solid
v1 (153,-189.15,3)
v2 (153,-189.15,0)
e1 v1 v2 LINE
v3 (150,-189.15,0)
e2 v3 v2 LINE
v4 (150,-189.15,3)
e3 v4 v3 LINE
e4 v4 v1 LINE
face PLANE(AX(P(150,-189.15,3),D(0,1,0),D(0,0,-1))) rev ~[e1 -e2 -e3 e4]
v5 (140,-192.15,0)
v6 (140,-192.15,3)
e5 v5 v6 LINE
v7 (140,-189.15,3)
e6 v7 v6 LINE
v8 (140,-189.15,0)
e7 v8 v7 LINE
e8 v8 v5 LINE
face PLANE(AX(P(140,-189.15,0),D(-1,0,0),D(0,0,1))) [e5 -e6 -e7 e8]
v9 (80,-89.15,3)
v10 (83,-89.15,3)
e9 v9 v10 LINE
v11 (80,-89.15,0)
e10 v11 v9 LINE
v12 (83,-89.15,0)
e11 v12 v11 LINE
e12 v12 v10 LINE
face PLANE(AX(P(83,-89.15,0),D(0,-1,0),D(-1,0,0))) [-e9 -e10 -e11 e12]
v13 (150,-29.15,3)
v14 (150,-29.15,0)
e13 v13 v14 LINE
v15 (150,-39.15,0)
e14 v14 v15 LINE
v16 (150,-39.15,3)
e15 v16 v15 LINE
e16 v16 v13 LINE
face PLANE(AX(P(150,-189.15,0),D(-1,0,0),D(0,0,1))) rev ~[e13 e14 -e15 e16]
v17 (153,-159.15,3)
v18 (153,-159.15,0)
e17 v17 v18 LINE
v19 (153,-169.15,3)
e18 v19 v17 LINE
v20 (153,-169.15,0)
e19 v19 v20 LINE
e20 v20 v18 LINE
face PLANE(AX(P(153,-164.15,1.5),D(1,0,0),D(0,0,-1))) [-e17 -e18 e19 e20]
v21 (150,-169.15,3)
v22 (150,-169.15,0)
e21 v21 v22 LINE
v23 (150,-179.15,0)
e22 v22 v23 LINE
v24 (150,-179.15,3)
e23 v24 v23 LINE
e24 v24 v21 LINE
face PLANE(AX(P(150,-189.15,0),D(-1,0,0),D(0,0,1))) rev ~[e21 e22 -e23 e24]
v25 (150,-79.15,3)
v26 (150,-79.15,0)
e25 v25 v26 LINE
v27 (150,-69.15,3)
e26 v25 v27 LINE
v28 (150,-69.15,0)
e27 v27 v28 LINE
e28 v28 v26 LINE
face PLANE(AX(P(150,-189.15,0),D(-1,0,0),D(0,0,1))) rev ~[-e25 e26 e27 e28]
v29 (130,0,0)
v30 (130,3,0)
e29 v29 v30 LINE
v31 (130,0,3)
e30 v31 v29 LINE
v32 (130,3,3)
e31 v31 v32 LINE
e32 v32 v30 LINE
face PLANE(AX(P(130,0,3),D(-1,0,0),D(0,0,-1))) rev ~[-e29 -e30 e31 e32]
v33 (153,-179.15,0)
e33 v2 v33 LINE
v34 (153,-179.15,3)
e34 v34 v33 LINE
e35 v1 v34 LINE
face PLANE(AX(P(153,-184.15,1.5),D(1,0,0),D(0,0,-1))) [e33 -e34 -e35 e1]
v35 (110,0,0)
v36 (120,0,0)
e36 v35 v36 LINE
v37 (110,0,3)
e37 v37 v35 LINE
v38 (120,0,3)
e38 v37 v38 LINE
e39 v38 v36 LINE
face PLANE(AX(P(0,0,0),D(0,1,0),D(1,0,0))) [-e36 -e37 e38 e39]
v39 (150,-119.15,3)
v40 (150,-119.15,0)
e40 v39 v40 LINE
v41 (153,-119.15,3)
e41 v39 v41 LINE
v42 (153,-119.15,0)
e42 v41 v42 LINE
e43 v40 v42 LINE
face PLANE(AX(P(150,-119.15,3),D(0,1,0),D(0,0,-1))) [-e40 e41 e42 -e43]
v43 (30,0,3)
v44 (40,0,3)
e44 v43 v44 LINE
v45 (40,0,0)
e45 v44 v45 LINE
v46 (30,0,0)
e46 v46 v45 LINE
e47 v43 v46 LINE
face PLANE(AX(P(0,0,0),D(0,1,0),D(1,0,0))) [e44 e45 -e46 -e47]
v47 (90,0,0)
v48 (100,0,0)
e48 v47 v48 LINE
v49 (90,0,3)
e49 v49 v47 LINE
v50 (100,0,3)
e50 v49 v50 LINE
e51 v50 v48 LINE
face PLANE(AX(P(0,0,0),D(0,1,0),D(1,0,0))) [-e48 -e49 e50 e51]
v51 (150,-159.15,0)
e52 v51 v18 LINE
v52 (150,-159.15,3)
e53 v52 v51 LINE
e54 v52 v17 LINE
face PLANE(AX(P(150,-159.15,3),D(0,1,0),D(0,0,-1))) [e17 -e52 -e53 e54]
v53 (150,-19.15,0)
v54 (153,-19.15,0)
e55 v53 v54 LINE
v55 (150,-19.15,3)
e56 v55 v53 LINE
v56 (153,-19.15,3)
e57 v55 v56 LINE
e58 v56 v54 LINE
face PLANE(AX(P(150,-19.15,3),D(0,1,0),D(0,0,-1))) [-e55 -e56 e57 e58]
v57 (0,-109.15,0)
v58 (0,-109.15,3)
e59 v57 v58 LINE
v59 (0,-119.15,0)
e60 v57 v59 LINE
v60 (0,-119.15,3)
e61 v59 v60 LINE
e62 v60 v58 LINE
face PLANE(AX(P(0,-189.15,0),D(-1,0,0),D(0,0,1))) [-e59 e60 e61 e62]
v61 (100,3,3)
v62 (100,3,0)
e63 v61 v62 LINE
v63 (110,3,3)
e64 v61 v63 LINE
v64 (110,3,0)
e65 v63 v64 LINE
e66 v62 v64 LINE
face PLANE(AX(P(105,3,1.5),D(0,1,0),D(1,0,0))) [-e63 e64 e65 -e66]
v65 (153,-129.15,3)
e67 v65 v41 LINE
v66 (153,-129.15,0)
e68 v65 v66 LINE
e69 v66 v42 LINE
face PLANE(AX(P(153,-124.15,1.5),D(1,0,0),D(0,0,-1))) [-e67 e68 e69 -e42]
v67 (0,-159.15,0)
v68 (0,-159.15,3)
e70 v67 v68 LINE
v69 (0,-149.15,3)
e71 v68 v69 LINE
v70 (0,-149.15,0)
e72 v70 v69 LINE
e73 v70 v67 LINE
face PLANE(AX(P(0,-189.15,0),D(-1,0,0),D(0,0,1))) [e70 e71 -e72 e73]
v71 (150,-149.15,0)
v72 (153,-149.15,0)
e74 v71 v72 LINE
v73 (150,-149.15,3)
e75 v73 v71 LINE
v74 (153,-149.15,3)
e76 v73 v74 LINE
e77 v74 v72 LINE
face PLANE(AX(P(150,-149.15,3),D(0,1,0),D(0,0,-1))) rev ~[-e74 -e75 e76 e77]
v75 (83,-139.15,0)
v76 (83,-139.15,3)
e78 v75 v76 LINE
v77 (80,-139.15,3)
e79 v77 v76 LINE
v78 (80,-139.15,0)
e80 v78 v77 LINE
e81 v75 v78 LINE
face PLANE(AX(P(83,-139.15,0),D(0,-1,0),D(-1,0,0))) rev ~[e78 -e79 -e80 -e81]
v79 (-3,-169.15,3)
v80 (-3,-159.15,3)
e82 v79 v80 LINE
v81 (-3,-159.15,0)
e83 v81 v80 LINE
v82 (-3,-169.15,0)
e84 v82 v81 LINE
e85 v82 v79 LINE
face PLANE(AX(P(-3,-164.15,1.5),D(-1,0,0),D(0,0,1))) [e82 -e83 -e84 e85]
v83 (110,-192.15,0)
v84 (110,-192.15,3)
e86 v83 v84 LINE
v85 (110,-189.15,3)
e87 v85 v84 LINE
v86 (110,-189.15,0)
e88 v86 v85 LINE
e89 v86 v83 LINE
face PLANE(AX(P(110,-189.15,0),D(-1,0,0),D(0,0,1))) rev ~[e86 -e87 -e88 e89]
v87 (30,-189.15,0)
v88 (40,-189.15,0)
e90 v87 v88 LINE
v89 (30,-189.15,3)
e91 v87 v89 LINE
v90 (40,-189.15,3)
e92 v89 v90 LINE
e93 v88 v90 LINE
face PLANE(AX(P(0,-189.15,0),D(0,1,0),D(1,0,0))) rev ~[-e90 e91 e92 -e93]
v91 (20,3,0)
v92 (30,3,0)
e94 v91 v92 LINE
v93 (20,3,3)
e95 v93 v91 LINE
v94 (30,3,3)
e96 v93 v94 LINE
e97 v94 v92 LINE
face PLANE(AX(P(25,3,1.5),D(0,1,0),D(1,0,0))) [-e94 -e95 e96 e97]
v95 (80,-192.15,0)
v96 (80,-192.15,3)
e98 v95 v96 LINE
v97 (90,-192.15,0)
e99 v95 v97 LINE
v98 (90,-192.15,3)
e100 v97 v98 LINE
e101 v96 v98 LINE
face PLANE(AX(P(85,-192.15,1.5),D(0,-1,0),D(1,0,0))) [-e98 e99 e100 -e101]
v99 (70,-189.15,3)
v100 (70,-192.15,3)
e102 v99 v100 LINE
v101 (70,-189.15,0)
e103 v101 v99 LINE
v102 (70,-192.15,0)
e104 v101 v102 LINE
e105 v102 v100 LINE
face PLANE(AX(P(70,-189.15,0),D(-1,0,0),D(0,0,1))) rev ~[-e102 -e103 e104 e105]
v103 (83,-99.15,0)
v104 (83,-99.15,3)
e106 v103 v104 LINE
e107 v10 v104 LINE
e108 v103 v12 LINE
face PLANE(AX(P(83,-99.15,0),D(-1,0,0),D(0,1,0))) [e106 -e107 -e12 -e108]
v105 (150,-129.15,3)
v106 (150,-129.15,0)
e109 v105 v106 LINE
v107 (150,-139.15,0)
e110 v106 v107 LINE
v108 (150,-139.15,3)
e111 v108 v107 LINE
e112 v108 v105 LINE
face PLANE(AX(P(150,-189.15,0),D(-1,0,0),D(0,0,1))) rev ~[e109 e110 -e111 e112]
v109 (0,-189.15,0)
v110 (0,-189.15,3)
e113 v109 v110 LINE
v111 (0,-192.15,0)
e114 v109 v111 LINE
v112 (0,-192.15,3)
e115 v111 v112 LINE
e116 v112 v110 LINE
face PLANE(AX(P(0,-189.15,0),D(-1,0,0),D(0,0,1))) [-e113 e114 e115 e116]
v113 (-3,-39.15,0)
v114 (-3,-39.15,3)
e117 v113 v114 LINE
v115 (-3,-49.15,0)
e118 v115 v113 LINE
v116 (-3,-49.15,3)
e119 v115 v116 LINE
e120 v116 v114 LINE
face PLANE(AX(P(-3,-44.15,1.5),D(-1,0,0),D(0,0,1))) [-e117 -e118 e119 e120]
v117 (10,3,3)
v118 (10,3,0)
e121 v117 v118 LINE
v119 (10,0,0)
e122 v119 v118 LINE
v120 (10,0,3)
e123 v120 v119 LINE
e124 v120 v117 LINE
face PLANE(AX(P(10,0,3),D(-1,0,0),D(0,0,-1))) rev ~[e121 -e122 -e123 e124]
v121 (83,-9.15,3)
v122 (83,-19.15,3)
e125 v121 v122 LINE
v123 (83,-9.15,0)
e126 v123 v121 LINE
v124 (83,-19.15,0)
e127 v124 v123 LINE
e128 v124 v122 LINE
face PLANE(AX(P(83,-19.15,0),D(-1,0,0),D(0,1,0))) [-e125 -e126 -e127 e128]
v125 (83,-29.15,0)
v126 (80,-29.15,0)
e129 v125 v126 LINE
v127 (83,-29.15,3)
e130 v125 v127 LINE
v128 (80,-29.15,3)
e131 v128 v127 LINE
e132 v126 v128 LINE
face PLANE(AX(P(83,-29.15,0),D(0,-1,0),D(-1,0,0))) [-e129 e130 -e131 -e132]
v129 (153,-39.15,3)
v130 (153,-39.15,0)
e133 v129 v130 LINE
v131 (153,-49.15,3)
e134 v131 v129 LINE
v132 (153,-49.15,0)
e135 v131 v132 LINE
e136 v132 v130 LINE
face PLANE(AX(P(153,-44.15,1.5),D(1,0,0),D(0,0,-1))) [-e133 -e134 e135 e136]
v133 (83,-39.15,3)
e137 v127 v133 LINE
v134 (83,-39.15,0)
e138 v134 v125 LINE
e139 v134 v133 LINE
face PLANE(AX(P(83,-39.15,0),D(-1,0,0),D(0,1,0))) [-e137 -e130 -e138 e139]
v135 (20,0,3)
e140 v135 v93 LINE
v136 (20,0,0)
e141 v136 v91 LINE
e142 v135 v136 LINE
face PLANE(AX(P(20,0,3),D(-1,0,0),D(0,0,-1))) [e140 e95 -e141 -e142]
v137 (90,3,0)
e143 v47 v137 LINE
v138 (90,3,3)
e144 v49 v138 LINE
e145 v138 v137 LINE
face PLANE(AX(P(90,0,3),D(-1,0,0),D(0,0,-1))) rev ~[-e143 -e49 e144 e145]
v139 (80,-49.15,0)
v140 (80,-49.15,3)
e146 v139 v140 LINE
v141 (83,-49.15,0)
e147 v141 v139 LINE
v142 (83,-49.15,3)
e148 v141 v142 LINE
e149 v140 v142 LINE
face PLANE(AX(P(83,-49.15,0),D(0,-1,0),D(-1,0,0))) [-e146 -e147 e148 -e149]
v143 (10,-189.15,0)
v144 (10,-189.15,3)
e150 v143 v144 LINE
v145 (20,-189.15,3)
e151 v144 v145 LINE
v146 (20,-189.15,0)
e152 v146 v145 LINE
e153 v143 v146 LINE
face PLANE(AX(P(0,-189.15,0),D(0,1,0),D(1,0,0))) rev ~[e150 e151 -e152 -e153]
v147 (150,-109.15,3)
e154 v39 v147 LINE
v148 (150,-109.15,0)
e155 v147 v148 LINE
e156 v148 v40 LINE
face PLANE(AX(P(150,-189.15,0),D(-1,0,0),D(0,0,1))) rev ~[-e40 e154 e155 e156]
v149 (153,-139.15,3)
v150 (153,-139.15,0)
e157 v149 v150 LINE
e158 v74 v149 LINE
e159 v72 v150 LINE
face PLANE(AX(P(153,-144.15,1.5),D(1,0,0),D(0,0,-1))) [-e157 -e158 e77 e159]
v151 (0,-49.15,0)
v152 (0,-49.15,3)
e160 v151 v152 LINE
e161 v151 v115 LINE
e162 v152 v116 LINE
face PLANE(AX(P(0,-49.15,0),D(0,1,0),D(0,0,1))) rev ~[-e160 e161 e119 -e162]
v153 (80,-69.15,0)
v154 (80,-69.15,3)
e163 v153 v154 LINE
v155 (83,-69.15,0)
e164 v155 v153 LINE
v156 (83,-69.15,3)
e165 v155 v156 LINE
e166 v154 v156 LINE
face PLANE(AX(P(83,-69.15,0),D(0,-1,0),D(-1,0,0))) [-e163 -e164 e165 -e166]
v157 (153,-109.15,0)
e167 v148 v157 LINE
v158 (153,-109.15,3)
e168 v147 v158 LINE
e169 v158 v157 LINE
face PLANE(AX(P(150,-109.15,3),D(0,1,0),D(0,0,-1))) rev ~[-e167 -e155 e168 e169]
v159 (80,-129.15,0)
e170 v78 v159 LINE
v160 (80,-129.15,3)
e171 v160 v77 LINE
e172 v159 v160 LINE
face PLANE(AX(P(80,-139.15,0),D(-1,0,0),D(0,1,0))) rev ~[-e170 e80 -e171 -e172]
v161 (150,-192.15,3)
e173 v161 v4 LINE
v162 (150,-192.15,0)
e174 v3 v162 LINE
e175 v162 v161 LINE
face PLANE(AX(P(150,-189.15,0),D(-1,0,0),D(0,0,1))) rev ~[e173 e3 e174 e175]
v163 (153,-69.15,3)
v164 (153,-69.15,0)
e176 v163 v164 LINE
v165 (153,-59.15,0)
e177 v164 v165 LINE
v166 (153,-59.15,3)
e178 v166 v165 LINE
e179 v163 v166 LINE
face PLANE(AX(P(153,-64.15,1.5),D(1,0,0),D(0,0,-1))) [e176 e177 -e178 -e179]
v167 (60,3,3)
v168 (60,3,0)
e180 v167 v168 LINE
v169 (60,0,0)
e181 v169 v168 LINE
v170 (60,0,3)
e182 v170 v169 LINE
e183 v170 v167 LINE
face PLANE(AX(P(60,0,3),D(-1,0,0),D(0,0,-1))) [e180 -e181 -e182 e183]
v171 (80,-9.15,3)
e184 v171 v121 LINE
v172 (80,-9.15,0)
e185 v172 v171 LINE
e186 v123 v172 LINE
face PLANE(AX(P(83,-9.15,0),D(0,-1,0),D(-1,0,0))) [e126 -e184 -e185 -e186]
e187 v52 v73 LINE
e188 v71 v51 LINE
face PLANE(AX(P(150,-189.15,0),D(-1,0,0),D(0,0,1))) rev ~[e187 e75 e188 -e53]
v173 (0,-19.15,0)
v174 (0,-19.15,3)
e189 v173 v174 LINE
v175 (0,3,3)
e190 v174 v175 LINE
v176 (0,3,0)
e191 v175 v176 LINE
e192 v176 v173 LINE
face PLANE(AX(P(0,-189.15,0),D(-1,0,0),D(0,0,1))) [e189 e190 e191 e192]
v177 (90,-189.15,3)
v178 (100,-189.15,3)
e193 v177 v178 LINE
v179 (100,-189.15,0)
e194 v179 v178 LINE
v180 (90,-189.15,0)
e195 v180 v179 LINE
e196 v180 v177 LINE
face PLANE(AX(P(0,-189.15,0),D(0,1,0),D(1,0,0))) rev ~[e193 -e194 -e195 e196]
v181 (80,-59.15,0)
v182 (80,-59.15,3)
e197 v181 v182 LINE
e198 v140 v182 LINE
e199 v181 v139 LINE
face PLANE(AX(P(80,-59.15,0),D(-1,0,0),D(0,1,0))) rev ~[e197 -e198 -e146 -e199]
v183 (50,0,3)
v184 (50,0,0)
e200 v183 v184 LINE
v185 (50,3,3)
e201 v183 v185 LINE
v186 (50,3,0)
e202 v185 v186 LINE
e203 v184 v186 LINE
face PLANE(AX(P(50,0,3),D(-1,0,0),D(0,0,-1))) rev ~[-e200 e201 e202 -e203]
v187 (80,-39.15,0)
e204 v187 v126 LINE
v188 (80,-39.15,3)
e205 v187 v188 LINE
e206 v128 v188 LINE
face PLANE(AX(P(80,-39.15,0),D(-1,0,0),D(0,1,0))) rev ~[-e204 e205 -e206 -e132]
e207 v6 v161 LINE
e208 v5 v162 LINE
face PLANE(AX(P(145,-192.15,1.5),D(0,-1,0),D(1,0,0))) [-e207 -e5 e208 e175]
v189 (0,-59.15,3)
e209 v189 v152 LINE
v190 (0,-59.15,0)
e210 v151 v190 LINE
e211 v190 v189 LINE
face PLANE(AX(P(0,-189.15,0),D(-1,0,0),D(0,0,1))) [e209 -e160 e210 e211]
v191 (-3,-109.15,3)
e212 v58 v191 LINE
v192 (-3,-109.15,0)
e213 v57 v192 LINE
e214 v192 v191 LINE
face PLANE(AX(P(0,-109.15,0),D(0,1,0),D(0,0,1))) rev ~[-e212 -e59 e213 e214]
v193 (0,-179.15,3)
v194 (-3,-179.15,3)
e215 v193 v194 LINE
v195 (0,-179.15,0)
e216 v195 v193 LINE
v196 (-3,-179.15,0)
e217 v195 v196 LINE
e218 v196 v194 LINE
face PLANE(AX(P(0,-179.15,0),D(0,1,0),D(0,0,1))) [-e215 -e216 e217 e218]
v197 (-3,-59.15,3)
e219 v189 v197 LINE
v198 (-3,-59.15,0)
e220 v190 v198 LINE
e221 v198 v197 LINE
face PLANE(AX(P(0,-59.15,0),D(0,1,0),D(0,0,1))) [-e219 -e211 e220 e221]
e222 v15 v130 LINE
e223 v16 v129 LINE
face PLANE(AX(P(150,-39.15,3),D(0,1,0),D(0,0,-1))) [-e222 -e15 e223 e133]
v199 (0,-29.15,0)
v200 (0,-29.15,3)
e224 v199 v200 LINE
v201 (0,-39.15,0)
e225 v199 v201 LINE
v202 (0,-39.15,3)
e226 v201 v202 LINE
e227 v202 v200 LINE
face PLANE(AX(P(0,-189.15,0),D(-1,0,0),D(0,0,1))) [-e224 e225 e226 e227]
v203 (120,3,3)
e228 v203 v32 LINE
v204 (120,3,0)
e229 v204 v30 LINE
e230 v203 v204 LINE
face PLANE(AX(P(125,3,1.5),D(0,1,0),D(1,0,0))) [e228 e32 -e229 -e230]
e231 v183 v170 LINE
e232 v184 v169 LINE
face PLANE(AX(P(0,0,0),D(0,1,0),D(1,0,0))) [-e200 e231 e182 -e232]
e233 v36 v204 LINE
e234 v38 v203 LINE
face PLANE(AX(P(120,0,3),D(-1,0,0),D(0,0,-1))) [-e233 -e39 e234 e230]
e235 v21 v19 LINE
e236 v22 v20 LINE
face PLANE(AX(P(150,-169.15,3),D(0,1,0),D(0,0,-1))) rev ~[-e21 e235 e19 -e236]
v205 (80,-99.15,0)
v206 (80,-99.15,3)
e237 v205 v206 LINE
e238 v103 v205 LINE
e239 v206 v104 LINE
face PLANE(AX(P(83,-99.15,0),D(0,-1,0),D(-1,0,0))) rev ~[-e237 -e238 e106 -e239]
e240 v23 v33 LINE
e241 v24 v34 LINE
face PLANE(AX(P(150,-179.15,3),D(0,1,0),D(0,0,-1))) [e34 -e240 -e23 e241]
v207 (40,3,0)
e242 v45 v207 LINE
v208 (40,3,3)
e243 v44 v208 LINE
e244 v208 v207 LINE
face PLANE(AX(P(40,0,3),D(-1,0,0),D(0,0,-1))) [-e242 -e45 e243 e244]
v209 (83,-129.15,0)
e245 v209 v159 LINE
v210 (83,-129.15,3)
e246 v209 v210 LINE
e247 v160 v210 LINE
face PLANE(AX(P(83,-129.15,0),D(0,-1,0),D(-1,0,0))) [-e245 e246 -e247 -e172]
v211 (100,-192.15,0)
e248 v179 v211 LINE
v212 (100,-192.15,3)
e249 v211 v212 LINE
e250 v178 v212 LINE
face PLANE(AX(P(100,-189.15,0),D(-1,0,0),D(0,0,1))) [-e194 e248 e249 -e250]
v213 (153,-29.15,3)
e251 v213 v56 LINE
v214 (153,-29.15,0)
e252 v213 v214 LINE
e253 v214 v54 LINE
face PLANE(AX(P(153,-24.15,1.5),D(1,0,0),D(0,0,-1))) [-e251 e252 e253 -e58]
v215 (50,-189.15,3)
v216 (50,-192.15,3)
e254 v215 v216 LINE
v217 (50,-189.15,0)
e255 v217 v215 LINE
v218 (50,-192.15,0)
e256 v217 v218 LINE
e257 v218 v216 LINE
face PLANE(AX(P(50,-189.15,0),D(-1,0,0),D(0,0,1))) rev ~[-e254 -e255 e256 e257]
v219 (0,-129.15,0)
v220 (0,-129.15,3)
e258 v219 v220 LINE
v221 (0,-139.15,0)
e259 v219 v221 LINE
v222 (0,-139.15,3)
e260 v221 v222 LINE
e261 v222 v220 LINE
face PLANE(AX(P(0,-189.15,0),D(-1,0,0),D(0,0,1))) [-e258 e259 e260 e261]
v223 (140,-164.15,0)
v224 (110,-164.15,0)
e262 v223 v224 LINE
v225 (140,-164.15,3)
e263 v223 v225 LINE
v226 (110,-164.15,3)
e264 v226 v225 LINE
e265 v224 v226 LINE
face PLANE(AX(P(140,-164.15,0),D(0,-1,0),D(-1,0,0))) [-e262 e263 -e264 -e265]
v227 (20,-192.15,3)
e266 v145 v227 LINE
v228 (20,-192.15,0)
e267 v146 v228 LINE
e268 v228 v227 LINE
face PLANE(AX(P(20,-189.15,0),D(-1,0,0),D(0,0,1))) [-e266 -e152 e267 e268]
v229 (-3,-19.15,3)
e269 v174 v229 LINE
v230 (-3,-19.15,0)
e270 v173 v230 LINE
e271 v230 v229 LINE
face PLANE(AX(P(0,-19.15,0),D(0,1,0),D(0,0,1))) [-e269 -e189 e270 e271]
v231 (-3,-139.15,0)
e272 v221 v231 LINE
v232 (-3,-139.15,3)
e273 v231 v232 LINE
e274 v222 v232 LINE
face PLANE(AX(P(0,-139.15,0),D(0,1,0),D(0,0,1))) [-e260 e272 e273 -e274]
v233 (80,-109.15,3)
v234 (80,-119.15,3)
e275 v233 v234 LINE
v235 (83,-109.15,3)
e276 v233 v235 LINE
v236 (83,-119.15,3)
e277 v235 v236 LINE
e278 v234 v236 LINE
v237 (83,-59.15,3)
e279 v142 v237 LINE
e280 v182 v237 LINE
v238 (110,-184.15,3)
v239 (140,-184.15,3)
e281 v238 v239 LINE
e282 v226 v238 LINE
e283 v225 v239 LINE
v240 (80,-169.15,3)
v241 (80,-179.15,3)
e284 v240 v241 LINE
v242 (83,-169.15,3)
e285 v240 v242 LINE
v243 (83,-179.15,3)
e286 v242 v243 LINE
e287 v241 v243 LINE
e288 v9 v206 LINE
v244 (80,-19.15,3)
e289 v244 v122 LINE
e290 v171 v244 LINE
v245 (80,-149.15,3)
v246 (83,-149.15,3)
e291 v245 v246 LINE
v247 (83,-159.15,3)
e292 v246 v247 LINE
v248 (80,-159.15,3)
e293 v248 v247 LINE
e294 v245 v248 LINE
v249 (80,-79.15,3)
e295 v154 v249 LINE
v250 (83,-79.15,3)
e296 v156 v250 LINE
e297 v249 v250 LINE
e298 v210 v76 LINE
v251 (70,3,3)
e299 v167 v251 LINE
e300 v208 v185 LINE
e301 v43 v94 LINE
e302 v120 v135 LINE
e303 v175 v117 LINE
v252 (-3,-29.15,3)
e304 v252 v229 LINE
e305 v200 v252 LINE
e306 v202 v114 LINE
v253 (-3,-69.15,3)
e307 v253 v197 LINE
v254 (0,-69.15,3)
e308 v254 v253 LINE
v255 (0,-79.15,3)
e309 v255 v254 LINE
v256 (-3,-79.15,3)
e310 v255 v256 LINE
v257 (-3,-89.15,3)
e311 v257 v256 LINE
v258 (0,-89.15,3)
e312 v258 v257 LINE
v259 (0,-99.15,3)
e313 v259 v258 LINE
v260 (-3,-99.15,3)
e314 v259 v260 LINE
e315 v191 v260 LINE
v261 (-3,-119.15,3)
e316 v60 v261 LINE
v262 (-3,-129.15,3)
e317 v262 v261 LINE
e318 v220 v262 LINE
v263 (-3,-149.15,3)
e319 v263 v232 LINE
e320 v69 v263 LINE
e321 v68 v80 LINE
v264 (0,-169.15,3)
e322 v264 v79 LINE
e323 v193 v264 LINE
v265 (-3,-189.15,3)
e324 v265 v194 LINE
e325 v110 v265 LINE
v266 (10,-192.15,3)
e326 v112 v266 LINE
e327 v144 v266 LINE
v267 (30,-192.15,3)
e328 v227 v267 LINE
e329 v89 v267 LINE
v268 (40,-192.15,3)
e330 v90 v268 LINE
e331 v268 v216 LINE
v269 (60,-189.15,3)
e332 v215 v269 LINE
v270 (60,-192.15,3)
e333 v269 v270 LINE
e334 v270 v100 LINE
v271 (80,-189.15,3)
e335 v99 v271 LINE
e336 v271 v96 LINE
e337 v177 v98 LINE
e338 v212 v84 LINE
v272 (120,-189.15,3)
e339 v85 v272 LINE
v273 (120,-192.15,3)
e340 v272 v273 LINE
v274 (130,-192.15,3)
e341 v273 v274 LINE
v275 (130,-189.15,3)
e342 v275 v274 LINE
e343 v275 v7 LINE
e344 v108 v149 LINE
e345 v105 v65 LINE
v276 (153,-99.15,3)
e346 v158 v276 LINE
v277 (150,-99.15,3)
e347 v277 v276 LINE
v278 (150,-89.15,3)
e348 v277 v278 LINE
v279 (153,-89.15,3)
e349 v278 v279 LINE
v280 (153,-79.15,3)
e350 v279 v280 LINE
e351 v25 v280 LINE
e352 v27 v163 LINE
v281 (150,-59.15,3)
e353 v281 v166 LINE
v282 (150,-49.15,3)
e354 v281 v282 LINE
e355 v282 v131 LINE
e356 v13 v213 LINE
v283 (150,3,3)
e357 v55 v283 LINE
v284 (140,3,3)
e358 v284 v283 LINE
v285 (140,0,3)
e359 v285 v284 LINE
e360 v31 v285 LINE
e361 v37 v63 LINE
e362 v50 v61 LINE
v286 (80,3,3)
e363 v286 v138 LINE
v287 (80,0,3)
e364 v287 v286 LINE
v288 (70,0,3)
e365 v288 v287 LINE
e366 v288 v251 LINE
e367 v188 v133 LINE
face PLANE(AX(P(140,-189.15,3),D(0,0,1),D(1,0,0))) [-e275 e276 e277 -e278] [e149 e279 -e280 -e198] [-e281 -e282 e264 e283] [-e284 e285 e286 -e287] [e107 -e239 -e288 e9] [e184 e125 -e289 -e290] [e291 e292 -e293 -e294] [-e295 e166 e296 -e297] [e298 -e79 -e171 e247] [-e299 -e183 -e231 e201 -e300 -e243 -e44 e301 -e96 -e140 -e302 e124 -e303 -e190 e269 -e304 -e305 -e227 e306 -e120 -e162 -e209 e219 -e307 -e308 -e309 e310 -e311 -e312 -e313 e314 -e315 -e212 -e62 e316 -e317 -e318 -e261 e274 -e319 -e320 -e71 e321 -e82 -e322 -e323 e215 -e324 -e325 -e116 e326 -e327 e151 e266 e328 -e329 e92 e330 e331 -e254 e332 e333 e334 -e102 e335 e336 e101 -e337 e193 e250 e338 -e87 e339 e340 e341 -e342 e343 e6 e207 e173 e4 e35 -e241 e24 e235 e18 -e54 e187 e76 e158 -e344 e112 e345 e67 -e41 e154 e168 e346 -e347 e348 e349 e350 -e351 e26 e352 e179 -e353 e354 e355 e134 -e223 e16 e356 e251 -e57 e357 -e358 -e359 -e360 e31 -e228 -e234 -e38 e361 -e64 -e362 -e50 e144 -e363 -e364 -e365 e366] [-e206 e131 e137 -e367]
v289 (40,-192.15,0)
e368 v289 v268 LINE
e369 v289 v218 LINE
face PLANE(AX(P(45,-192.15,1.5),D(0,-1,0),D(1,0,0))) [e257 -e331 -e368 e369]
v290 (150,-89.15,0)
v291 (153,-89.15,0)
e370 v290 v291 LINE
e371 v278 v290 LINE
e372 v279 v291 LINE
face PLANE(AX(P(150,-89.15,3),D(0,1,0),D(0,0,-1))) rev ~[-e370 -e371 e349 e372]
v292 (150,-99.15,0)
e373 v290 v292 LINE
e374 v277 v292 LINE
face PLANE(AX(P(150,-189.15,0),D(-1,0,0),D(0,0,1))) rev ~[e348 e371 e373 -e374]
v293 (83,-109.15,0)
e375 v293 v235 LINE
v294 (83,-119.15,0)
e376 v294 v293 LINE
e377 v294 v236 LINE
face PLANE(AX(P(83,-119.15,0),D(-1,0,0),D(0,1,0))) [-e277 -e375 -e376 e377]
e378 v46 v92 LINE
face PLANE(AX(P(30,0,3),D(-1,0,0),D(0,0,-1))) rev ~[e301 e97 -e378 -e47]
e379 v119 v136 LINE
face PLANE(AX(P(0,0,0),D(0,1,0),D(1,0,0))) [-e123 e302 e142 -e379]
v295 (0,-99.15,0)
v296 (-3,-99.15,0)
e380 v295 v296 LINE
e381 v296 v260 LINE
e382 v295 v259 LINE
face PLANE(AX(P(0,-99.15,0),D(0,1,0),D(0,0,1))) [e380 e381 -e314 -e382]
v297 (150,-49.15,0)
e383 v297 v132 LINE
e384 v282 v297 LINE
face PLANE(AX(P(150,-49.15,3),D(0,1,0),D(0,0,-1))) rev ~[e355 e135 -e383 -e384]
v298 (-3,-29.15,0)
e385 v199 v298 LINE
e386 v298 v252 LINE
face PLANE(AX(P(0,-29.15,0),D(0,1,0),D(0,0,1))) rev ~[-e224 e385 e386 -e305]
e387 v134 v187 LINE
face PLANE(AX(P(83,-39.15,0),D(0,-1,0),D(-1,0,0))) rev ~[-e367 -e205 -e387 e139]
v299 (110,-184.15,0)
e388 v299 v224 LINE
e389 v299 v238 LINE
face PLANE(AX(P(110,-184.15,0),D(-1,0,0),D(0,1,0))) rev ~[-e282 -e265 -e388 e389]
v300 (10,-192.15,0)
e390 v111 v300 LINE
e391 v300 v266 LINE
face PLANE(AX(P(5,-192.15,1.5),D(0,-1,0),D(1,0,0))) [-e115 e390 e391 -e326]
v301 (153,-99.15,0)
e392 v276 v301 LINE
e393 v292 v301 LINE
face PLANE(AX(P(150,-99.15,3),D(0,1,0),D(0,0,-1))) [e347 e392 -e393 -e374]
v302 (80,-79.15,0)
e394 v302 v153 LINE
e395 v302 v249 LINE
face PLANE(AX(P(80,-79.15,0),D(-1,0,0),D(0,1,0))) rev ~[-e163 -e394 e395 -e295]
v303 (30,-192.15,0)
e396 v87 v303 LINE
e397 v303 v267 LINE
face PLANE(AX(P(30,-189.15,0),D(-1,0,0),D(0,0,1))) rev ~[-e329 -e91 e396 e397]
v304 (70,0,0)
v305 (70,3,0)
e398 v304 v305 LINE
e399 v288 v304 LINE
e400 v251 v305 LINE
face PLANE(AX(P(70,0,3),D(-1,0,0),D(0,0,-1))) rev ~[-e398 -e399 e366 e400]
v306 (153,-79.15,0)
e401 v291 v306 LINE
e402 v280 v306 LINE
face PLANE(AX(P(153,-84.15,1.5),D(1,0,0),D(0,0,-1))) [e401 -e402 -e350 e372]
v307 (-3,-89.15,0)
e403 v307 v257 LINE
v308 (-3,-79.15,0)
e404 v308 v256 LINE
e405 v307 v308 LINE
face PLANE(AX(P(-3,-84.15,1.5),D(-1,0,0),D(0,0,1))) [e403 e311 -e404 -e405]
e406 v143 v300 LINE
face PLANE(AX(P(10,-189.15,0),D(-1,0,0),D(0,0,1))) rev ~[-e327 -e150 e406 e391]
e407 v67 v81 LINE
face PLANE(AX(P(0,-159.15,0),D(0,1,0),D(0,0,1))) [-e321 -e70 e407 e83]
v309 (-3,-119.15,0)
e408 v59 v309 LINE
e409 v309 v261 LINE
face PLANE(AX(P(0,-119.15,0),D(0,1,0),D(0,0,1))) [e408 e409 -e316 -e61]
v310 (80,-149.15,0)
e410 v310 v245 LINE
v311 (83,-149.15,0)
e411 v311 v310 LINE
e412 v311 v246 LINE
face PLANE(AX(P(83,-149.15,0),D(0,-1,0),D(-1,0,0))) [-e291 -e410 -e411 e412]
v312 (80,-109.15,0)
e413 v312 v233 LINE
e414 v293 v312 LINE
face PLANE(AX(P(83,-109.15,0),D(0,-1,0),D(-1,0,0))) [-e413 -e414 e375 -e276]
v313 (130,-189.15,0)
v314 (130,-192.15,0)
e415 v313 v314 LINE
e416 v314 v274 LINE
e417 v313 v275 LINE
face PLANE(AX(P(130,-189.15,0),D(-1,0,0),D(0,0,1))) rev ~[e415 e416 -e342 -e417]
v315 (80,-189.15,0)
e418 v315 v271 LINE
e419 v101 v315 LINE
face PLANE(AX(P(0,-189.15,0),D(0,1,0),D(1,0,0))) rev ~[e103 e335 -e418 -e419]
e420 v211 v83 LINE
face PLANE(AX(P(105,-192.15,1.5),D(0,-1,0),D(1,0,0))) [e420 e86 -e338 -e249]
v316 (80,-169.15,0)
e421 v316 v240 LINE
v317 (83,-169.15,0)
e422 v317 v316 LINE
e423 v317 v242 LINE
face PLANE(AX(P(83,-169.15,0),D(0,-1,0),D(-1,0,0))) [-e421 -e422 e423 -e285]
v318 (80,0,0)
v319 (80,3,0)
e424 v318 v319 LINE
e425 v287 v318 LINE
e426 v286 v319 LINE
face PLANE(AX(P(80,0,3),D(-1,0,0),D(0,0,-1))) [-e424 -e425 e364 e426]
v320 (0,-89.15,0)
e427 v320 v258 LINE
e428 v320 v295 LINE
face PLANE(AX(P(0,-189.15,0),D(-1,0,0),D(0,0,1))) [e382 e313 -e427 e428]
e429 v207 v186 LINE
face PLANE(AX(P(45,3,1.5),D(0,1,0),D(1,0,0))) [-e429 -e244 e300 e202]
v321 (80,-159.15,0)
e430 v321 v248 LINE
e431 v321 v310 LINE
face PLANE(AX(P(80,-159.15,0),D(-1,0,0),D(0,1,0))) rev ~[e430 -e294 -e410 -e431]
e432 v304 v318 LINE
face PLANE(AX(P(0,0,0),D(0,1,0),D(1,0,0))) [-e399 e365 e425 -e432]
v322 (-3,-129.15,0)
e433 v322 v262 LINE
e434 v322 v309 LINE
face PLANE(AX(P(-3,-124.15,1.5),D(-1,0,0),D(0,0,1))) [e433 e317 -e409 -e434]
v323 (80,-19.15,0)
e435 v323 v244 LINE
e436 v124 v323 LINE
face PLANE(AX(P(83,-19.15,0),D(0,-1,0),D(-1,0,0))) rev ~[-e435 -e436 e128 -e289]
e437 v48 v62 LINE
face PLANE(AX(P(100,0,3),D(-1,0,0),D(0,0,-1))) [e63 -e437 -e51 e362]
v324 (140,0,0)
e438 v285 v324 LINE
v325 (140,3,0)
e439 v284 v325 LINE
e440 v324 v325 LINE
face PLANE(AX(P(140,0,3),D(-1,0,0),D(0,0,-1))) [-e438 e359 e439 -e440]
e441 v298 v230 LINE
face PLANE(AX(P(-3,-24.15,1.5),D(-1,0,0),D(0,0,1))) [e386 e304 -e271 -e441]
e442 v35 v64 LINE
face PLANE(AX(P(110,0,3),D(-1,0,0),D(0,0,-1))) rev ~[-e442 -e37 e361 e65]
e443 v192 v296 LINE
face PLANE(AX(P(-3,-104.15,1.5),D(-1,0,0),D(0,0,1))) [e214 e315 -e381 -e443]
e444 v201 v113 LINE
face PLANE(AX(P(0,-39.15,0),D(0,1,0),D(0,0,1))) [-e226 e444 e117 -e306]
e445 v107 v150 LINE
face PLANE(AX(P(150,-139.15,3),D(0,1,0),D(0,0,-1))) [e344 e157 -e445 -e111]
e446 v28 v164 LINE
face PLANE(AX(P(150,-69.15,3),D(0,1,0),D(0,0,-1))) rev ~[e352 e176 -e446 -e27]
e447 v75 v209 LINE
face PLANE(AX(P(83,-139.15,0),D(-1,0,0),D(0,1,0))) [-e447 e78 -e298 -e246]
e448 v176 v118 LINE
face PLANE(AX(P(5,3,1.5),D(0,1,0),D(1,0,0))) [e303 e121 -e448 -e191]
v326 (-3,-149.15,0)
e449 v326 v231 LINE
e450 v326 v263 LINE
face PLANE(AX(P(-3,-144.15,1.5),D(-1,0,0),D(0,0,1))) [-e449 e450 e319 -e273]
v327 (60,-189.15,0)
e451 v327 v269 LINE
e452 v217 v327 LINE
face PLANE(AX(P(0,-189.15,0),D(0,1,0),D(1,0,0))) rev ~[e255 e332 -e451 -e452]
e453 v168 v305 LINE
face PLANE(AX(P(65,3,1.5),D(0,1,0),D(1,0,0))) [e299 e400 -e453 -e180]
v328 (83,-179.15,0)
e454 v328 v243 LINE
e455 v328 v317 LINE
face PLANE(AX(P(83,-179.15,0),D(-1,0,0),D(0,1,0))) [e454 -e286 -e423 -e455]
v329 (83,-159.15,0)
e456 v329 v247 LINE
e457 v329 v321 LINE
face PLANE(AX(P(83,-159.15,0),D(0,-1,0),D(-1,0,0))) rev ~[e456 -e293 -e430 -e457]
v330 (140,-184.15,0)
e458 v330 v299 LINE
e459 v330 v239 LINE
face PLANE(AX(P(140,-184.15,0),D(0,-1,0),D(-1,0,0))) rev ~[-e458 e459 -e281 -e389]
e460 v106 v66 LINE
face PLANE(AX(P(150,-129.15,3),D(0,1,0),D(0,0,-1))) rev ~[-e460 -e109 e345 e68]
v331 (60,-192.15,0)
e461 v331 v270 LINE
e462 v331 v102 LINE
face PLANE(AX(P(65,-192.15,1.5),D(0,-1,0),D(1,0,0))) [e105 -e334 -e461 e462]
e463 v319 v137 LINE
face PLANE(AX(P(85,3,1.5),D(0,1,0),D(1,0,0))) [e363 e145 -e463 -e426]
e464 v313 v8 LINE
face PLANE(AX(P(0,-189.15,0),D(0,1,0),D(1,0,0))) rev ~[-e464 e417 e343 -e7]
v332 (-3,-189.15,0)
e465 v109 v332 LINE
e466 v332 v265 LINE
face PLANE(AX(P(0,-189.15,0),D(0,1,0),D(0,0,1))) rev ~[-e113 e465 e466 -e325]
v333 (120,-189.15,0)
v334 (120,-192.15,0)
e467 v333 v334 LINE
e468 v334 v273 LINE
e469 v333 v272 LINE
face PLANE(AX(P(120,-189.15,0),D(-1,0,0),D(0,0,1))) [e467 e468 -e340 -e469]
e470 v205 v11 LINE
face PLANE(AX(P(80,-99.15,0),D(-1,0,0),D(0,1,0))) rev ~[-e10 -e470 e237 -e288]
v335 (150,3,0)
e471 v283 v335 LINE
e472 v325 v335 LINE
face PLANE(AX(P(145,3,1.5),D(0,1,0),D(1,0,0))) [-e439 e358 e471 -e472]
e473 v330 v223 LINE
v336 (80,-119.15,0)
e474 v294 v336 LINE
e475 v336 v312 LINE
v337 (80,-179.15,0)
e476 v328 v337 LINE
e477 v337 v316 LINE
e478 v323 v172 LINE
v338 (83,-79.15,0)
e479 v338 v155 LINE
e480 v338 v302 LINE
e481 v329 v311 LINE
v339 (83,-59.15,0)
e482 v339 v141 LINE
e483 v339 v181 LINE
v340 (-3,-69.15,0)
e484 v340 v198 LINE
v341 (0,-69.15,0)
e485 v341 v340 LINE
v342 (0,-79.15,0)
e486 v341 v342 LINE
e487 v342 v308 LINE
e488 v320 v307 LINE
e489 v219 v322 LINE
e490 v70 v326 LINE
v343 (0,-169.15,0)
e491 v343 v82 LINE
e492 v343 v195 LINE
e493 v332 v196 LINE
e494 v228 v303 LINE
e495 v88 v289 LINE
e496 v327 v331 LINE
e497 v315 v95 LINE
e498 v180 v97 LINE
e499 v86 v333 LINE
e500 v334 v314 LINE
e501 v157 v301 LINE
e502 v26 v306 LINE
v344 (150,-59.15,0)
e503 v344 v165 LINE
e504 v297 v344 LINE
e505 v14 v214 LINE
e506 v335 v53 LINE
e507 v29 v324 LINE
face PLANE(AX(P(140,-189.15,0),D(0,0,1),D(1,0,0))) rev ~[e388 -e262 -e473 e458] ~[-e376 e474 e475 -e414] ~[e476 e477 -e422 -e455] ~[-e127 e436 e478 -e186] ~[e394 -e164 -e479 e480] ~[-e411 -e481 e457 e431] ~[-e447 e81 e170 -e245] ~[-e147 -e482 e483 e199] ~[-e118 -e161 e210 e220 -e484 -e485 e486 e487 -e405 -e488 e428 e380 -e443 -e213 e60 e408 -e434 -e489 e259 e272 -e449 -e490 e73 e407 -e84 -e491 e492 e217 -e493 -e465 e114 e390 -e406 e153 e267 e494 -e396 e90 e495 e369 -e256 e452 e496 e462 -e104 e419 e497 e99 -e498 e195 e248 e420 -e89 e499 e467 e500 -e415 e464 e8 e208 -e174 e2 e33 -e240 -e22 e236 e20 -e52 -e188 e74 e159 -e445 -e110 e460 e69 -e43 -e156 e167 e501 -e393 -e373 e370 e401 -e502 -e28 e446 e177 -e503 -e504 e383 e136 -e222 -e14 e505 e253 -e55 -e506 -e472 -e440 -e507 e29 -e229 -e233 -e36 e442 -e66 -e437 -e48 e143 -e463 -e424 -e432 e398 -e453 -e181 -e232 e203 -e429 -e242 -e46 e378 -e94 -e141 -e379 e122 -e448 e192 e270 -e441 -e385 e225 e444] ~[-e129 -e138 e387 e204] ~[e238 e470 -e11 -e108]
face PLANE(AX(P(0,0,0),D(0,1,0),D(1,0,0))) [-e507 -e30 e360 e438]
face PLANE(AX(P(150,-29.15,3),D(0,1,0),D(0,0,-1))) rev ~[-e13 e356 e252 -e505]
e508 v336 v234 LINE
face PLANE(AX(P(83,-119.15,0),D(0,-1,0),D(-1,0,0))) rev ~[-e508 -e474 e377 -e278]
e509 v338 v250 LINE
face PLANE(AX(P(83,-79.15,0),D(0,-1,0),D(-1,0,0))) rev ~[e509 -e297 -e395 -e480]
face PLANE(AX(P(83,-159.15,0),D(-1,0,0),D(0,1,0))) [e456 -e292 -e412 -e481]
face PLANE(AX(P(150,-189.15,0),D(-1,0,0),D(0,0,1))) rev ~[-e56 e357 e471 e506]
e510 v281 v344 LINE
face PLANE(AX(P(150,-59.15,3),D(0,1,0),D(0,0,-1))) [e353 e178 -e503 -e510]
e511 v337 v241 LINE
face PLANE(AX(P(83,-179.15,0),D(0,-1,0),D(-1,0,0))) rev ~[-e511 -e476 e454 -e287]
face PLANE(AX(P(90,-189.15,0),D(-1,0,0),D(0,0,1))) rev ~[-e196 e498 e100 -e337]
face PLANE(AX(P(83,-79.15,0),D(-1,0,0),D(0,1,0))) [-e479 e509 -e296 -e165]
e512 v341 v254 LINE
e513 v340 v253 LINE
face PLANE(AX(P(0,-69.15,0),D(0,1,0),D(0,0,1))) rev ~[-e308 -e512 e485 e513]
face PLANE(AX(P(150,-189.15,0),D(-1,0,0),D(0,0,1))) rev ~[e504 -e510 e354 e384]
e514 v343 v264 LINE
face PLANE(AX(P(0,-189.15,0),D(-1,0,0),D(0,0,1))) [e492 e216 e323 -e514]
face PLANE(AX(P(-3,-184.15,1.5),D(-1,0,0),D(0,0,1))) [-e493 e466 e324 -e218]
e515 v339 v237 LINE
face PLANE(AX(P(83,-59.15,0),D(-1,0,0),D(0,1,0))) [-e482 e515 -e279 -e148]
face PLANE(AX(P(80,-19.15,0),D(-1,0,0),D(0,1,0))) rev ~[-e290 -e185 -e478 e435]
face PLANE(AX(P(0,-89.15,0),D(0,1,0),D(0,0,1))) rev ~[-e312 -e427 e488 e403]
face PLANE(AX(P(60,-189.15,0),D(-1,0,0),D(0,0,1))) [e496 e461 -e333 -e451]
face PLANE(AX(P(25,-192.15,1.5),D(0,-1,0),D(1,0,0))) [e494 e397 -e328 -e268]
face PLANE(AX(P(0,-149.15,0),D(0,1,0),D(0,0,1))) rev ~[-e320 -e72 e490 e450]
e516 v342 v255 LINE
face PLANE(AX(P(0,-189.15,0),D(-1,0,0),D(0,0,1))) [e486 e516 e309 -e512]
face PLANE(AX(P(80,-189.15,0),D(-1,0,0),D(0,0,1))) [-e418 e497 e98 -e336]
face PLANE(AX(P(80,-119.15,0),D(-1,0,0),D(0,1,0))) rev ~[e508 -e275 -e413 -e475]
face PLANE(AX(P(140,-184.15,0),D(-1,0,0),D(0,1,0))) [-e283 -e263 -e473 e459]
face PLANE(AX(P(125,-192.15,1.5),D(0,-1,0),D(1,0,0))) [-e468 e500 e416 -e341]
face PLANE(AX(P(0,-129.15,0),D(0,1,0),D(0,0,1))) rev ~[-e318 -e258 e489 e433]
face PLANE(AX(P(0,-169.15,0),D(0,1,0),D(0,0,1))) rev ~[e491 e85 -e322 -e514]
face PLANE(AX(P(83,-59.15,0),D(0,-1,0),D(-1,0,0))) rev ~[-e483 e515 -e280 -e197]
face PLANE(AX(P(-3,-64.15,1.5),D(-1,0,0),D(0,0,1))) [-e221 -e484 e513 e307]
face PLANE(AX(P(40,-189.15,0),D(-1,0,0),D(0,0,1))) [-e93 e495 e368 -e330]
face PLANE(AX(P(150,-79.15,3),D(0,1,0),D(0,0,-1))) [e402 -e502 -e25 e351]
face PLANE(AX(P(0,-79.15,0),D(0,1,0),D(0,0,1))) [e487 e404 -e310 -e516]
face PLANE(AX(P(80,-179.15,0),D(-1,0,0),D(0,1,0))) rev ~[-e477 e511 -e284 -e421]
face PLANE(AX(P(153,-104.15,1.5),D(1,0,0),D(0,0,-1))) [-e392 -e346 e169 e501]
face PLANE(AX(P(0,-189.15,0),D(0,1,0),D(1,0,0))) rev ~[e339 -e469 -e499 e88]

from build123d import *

# Parameters (mm, degrees)
ESQUISSE1_W                = 150
ESQUISSE1_H                = 189.15
BOSS_EXTRU_1_DEPTH         = 3
ESQUISSE2_W                = 10
ESQUISSE2_H                = 3
BOSS_EXTRU_2_DEPTH         = 3
R_P_TITION_LIN_AIRE1_COUNT = 8
R_P_TITION_LIN_AIRE1_PITCH = 20
ESQUISSE3_W                = 10
ESQUISSE3_H                = 3
BOSS_EXTRU_3_DEPTH         = 3
R_P_TITION_LIN_AIRE2_COUNT = 8
R_P_TITION_LIN_AIRE2_PITCH = 20
ESQUISSE4_W                = 3
ESQUISSE4_H                = 10
BOSS_EXTRU_4_DEPTH         = 3
R_P_TITION_LIN_AIRE3_COUNT = 9
R_P_TITION_LIN_AIRE3_PITCH = 20
ESQUISSE5_W                = 3
ESQUISSE5_H                = 10
BOSS_EXTRU_5_DEPTH         = 3
R_P_TITION_LIN_AIRE4_COUNT = 9
R_P_TITION_LIN_AIRE4_PITCH = 20
ESQUISSE6_W                = 30
ESQUISSE6_H                = 20
ENL_V_MAT_EXTRU_1_DEPTH    = 4
ESQUISSE7_W                = 3
ESQUISSE7_H                = 10
ENL_V_MAT_EXTRU_2_DEPTH    = 4
R_P_TITION_LIN_AIRE5_COUNT = 9
R_P_TITION_LIN_AIRE5_PITCH = 20


with BuildPart() as part:
    # Esquisse1 → Boss.-Extru.1 (new body)
    with BuildSketch(Plane.XY):
        with Locations((75, -94.575)):
            Rectangle(ESQUISSE1_W, ESQUISSE1_H)
    extrude(amount=BOSS_EXTRU_1_DEPTH)

    # Esquisse2 → Boss.-Extru.2 (add)
    with BuildSketch(Plane(origin=(0, 0, 0), x_dir=(1, 0, 0), z_dir=(0, 1, 0))):
        with Locations((5, -1.5)):
            Rectangle(ESQUISSE2_W, ESQUISSE2_H)
    boss_extru_2 = extrude(amount=BOSS_EXTRU_2_DEPTH)

    # Répétition linéaire1: Boss.-Extru.2 ×8
    with Locations(*[(i * R_P_TITION_LIN_AIRE1_PITCH, 0, 0) for i in range(1, R_P_TITION_LIN_AIRE1_COUNT)]):
        add(boss_extru_2)

    # Esquisse3 → Boss.-Extru.3 (add)
    with BuildSketch(Plane.XZ.offset(189.15)):
        with Locations((5, 1.5)):
            Rectangle(ESQUISSE3_W, ESQUISSE3_H)
    boss_extru_3 = extrude(amount=BOSS_EXTRU_3_DEPTH)

    # Répétition linéaire2: Boss.-Extru.3 ×8
    with Locations(*[(i * R_P_TITION_LIN_AIRE2_PITCH, 0, 0) for i in range(1, R_P_TITION_LIN_AIRE2_COUNT)]):
        add(boss_extru_3)

    # Esquisse4 → Boss.-Extru.4 (add)
    with BuildSketch(Plane.ZY):
        with Locations((1.5, -184.15)):
            Rectangle(ESQUISSE4_W, ESQUISSE4_H)
    boss_extru_4 = extrude(amount=BOSS_EXTRU_4_DEPTH)

    # Répétition linéaire3: Boss.-Extru.4 ×9
    with Locations(*[(0, i * R_P_TITION_LIN_AIRE3_PITCH, 0) for i in range(1, R_P_TITION_LIN_AIRE3_COUNT)]):
        add(boss_extru_4)

    # Esquisse5 → Boss.-Extru.5 (add)
    with BuildSketch(Plane(origin=(150, 0, 0), x_dir=(0, 0, -1), z_dir=(1, 0, 0))):
        with Locations((-1.5, -184.15)):
            Rectangle(ESQUISSE5_W, ESQUISSE5_H)
    boss_extru_5 = extrude(amount=BOSS_EXTRU_5_DEPTH)

    # Répétition linéaire4: Boss.-Extru.5 ×9
    with Locations(*[(0, i * R_P_TITION_LIN_AIRE4_PITCH, 0) for i in range(1, R_P_TITION_LIN_AIRE4_COUNT)]):
        add(boss_extru_5)

    # Esquisse6 → Enlèv. mat.-Extru.1 (cut, through all)
    with BuildSketch(Plane(origin=(0, 0, 0), x_dir=(-1, 0, 0), z_dir=(0, 0, -1))):
        with Locations((-125, -174.15)):
            Rectangle(ESQUISSE6_W, ESQUISSE6_H)
    extrude(amount=-ENL_V_MAT_EXTRU_1_DEPTH, mode=Mode.SUBTRACT)

    # Esquisse7 → Enlèv. mat.-Extru.2 (cut, through all)
    with BuildSketch(Plane(origin=(0, 0, 0), x_dir=(-1, 0, 0), z_dir=(0, 0, -1))):
        with Locations((-81.5, -14.15)):
            Rectangle(ESQUISSE7_W, ESQUISSE7_H)
    enl_v_mat_extru_2 = extrude(amount=-ENL_V_MAT_EXTRU_2_DEPTH, mode=Mode.SUBTRACT)

    # Répétition linéaire5: Enlèv. mat.-Extru.2 ×9
    with Locations(*[(0, -i * R_P_TITION_LIN_AIRE5_PITCH, 0) for i in range(1, R_P_TITION_LIN_AIRE5_COUNT)]):
        add(enl_v_mat_extru_2, mode=Mode.SUBTRACT)


solid = part.part
